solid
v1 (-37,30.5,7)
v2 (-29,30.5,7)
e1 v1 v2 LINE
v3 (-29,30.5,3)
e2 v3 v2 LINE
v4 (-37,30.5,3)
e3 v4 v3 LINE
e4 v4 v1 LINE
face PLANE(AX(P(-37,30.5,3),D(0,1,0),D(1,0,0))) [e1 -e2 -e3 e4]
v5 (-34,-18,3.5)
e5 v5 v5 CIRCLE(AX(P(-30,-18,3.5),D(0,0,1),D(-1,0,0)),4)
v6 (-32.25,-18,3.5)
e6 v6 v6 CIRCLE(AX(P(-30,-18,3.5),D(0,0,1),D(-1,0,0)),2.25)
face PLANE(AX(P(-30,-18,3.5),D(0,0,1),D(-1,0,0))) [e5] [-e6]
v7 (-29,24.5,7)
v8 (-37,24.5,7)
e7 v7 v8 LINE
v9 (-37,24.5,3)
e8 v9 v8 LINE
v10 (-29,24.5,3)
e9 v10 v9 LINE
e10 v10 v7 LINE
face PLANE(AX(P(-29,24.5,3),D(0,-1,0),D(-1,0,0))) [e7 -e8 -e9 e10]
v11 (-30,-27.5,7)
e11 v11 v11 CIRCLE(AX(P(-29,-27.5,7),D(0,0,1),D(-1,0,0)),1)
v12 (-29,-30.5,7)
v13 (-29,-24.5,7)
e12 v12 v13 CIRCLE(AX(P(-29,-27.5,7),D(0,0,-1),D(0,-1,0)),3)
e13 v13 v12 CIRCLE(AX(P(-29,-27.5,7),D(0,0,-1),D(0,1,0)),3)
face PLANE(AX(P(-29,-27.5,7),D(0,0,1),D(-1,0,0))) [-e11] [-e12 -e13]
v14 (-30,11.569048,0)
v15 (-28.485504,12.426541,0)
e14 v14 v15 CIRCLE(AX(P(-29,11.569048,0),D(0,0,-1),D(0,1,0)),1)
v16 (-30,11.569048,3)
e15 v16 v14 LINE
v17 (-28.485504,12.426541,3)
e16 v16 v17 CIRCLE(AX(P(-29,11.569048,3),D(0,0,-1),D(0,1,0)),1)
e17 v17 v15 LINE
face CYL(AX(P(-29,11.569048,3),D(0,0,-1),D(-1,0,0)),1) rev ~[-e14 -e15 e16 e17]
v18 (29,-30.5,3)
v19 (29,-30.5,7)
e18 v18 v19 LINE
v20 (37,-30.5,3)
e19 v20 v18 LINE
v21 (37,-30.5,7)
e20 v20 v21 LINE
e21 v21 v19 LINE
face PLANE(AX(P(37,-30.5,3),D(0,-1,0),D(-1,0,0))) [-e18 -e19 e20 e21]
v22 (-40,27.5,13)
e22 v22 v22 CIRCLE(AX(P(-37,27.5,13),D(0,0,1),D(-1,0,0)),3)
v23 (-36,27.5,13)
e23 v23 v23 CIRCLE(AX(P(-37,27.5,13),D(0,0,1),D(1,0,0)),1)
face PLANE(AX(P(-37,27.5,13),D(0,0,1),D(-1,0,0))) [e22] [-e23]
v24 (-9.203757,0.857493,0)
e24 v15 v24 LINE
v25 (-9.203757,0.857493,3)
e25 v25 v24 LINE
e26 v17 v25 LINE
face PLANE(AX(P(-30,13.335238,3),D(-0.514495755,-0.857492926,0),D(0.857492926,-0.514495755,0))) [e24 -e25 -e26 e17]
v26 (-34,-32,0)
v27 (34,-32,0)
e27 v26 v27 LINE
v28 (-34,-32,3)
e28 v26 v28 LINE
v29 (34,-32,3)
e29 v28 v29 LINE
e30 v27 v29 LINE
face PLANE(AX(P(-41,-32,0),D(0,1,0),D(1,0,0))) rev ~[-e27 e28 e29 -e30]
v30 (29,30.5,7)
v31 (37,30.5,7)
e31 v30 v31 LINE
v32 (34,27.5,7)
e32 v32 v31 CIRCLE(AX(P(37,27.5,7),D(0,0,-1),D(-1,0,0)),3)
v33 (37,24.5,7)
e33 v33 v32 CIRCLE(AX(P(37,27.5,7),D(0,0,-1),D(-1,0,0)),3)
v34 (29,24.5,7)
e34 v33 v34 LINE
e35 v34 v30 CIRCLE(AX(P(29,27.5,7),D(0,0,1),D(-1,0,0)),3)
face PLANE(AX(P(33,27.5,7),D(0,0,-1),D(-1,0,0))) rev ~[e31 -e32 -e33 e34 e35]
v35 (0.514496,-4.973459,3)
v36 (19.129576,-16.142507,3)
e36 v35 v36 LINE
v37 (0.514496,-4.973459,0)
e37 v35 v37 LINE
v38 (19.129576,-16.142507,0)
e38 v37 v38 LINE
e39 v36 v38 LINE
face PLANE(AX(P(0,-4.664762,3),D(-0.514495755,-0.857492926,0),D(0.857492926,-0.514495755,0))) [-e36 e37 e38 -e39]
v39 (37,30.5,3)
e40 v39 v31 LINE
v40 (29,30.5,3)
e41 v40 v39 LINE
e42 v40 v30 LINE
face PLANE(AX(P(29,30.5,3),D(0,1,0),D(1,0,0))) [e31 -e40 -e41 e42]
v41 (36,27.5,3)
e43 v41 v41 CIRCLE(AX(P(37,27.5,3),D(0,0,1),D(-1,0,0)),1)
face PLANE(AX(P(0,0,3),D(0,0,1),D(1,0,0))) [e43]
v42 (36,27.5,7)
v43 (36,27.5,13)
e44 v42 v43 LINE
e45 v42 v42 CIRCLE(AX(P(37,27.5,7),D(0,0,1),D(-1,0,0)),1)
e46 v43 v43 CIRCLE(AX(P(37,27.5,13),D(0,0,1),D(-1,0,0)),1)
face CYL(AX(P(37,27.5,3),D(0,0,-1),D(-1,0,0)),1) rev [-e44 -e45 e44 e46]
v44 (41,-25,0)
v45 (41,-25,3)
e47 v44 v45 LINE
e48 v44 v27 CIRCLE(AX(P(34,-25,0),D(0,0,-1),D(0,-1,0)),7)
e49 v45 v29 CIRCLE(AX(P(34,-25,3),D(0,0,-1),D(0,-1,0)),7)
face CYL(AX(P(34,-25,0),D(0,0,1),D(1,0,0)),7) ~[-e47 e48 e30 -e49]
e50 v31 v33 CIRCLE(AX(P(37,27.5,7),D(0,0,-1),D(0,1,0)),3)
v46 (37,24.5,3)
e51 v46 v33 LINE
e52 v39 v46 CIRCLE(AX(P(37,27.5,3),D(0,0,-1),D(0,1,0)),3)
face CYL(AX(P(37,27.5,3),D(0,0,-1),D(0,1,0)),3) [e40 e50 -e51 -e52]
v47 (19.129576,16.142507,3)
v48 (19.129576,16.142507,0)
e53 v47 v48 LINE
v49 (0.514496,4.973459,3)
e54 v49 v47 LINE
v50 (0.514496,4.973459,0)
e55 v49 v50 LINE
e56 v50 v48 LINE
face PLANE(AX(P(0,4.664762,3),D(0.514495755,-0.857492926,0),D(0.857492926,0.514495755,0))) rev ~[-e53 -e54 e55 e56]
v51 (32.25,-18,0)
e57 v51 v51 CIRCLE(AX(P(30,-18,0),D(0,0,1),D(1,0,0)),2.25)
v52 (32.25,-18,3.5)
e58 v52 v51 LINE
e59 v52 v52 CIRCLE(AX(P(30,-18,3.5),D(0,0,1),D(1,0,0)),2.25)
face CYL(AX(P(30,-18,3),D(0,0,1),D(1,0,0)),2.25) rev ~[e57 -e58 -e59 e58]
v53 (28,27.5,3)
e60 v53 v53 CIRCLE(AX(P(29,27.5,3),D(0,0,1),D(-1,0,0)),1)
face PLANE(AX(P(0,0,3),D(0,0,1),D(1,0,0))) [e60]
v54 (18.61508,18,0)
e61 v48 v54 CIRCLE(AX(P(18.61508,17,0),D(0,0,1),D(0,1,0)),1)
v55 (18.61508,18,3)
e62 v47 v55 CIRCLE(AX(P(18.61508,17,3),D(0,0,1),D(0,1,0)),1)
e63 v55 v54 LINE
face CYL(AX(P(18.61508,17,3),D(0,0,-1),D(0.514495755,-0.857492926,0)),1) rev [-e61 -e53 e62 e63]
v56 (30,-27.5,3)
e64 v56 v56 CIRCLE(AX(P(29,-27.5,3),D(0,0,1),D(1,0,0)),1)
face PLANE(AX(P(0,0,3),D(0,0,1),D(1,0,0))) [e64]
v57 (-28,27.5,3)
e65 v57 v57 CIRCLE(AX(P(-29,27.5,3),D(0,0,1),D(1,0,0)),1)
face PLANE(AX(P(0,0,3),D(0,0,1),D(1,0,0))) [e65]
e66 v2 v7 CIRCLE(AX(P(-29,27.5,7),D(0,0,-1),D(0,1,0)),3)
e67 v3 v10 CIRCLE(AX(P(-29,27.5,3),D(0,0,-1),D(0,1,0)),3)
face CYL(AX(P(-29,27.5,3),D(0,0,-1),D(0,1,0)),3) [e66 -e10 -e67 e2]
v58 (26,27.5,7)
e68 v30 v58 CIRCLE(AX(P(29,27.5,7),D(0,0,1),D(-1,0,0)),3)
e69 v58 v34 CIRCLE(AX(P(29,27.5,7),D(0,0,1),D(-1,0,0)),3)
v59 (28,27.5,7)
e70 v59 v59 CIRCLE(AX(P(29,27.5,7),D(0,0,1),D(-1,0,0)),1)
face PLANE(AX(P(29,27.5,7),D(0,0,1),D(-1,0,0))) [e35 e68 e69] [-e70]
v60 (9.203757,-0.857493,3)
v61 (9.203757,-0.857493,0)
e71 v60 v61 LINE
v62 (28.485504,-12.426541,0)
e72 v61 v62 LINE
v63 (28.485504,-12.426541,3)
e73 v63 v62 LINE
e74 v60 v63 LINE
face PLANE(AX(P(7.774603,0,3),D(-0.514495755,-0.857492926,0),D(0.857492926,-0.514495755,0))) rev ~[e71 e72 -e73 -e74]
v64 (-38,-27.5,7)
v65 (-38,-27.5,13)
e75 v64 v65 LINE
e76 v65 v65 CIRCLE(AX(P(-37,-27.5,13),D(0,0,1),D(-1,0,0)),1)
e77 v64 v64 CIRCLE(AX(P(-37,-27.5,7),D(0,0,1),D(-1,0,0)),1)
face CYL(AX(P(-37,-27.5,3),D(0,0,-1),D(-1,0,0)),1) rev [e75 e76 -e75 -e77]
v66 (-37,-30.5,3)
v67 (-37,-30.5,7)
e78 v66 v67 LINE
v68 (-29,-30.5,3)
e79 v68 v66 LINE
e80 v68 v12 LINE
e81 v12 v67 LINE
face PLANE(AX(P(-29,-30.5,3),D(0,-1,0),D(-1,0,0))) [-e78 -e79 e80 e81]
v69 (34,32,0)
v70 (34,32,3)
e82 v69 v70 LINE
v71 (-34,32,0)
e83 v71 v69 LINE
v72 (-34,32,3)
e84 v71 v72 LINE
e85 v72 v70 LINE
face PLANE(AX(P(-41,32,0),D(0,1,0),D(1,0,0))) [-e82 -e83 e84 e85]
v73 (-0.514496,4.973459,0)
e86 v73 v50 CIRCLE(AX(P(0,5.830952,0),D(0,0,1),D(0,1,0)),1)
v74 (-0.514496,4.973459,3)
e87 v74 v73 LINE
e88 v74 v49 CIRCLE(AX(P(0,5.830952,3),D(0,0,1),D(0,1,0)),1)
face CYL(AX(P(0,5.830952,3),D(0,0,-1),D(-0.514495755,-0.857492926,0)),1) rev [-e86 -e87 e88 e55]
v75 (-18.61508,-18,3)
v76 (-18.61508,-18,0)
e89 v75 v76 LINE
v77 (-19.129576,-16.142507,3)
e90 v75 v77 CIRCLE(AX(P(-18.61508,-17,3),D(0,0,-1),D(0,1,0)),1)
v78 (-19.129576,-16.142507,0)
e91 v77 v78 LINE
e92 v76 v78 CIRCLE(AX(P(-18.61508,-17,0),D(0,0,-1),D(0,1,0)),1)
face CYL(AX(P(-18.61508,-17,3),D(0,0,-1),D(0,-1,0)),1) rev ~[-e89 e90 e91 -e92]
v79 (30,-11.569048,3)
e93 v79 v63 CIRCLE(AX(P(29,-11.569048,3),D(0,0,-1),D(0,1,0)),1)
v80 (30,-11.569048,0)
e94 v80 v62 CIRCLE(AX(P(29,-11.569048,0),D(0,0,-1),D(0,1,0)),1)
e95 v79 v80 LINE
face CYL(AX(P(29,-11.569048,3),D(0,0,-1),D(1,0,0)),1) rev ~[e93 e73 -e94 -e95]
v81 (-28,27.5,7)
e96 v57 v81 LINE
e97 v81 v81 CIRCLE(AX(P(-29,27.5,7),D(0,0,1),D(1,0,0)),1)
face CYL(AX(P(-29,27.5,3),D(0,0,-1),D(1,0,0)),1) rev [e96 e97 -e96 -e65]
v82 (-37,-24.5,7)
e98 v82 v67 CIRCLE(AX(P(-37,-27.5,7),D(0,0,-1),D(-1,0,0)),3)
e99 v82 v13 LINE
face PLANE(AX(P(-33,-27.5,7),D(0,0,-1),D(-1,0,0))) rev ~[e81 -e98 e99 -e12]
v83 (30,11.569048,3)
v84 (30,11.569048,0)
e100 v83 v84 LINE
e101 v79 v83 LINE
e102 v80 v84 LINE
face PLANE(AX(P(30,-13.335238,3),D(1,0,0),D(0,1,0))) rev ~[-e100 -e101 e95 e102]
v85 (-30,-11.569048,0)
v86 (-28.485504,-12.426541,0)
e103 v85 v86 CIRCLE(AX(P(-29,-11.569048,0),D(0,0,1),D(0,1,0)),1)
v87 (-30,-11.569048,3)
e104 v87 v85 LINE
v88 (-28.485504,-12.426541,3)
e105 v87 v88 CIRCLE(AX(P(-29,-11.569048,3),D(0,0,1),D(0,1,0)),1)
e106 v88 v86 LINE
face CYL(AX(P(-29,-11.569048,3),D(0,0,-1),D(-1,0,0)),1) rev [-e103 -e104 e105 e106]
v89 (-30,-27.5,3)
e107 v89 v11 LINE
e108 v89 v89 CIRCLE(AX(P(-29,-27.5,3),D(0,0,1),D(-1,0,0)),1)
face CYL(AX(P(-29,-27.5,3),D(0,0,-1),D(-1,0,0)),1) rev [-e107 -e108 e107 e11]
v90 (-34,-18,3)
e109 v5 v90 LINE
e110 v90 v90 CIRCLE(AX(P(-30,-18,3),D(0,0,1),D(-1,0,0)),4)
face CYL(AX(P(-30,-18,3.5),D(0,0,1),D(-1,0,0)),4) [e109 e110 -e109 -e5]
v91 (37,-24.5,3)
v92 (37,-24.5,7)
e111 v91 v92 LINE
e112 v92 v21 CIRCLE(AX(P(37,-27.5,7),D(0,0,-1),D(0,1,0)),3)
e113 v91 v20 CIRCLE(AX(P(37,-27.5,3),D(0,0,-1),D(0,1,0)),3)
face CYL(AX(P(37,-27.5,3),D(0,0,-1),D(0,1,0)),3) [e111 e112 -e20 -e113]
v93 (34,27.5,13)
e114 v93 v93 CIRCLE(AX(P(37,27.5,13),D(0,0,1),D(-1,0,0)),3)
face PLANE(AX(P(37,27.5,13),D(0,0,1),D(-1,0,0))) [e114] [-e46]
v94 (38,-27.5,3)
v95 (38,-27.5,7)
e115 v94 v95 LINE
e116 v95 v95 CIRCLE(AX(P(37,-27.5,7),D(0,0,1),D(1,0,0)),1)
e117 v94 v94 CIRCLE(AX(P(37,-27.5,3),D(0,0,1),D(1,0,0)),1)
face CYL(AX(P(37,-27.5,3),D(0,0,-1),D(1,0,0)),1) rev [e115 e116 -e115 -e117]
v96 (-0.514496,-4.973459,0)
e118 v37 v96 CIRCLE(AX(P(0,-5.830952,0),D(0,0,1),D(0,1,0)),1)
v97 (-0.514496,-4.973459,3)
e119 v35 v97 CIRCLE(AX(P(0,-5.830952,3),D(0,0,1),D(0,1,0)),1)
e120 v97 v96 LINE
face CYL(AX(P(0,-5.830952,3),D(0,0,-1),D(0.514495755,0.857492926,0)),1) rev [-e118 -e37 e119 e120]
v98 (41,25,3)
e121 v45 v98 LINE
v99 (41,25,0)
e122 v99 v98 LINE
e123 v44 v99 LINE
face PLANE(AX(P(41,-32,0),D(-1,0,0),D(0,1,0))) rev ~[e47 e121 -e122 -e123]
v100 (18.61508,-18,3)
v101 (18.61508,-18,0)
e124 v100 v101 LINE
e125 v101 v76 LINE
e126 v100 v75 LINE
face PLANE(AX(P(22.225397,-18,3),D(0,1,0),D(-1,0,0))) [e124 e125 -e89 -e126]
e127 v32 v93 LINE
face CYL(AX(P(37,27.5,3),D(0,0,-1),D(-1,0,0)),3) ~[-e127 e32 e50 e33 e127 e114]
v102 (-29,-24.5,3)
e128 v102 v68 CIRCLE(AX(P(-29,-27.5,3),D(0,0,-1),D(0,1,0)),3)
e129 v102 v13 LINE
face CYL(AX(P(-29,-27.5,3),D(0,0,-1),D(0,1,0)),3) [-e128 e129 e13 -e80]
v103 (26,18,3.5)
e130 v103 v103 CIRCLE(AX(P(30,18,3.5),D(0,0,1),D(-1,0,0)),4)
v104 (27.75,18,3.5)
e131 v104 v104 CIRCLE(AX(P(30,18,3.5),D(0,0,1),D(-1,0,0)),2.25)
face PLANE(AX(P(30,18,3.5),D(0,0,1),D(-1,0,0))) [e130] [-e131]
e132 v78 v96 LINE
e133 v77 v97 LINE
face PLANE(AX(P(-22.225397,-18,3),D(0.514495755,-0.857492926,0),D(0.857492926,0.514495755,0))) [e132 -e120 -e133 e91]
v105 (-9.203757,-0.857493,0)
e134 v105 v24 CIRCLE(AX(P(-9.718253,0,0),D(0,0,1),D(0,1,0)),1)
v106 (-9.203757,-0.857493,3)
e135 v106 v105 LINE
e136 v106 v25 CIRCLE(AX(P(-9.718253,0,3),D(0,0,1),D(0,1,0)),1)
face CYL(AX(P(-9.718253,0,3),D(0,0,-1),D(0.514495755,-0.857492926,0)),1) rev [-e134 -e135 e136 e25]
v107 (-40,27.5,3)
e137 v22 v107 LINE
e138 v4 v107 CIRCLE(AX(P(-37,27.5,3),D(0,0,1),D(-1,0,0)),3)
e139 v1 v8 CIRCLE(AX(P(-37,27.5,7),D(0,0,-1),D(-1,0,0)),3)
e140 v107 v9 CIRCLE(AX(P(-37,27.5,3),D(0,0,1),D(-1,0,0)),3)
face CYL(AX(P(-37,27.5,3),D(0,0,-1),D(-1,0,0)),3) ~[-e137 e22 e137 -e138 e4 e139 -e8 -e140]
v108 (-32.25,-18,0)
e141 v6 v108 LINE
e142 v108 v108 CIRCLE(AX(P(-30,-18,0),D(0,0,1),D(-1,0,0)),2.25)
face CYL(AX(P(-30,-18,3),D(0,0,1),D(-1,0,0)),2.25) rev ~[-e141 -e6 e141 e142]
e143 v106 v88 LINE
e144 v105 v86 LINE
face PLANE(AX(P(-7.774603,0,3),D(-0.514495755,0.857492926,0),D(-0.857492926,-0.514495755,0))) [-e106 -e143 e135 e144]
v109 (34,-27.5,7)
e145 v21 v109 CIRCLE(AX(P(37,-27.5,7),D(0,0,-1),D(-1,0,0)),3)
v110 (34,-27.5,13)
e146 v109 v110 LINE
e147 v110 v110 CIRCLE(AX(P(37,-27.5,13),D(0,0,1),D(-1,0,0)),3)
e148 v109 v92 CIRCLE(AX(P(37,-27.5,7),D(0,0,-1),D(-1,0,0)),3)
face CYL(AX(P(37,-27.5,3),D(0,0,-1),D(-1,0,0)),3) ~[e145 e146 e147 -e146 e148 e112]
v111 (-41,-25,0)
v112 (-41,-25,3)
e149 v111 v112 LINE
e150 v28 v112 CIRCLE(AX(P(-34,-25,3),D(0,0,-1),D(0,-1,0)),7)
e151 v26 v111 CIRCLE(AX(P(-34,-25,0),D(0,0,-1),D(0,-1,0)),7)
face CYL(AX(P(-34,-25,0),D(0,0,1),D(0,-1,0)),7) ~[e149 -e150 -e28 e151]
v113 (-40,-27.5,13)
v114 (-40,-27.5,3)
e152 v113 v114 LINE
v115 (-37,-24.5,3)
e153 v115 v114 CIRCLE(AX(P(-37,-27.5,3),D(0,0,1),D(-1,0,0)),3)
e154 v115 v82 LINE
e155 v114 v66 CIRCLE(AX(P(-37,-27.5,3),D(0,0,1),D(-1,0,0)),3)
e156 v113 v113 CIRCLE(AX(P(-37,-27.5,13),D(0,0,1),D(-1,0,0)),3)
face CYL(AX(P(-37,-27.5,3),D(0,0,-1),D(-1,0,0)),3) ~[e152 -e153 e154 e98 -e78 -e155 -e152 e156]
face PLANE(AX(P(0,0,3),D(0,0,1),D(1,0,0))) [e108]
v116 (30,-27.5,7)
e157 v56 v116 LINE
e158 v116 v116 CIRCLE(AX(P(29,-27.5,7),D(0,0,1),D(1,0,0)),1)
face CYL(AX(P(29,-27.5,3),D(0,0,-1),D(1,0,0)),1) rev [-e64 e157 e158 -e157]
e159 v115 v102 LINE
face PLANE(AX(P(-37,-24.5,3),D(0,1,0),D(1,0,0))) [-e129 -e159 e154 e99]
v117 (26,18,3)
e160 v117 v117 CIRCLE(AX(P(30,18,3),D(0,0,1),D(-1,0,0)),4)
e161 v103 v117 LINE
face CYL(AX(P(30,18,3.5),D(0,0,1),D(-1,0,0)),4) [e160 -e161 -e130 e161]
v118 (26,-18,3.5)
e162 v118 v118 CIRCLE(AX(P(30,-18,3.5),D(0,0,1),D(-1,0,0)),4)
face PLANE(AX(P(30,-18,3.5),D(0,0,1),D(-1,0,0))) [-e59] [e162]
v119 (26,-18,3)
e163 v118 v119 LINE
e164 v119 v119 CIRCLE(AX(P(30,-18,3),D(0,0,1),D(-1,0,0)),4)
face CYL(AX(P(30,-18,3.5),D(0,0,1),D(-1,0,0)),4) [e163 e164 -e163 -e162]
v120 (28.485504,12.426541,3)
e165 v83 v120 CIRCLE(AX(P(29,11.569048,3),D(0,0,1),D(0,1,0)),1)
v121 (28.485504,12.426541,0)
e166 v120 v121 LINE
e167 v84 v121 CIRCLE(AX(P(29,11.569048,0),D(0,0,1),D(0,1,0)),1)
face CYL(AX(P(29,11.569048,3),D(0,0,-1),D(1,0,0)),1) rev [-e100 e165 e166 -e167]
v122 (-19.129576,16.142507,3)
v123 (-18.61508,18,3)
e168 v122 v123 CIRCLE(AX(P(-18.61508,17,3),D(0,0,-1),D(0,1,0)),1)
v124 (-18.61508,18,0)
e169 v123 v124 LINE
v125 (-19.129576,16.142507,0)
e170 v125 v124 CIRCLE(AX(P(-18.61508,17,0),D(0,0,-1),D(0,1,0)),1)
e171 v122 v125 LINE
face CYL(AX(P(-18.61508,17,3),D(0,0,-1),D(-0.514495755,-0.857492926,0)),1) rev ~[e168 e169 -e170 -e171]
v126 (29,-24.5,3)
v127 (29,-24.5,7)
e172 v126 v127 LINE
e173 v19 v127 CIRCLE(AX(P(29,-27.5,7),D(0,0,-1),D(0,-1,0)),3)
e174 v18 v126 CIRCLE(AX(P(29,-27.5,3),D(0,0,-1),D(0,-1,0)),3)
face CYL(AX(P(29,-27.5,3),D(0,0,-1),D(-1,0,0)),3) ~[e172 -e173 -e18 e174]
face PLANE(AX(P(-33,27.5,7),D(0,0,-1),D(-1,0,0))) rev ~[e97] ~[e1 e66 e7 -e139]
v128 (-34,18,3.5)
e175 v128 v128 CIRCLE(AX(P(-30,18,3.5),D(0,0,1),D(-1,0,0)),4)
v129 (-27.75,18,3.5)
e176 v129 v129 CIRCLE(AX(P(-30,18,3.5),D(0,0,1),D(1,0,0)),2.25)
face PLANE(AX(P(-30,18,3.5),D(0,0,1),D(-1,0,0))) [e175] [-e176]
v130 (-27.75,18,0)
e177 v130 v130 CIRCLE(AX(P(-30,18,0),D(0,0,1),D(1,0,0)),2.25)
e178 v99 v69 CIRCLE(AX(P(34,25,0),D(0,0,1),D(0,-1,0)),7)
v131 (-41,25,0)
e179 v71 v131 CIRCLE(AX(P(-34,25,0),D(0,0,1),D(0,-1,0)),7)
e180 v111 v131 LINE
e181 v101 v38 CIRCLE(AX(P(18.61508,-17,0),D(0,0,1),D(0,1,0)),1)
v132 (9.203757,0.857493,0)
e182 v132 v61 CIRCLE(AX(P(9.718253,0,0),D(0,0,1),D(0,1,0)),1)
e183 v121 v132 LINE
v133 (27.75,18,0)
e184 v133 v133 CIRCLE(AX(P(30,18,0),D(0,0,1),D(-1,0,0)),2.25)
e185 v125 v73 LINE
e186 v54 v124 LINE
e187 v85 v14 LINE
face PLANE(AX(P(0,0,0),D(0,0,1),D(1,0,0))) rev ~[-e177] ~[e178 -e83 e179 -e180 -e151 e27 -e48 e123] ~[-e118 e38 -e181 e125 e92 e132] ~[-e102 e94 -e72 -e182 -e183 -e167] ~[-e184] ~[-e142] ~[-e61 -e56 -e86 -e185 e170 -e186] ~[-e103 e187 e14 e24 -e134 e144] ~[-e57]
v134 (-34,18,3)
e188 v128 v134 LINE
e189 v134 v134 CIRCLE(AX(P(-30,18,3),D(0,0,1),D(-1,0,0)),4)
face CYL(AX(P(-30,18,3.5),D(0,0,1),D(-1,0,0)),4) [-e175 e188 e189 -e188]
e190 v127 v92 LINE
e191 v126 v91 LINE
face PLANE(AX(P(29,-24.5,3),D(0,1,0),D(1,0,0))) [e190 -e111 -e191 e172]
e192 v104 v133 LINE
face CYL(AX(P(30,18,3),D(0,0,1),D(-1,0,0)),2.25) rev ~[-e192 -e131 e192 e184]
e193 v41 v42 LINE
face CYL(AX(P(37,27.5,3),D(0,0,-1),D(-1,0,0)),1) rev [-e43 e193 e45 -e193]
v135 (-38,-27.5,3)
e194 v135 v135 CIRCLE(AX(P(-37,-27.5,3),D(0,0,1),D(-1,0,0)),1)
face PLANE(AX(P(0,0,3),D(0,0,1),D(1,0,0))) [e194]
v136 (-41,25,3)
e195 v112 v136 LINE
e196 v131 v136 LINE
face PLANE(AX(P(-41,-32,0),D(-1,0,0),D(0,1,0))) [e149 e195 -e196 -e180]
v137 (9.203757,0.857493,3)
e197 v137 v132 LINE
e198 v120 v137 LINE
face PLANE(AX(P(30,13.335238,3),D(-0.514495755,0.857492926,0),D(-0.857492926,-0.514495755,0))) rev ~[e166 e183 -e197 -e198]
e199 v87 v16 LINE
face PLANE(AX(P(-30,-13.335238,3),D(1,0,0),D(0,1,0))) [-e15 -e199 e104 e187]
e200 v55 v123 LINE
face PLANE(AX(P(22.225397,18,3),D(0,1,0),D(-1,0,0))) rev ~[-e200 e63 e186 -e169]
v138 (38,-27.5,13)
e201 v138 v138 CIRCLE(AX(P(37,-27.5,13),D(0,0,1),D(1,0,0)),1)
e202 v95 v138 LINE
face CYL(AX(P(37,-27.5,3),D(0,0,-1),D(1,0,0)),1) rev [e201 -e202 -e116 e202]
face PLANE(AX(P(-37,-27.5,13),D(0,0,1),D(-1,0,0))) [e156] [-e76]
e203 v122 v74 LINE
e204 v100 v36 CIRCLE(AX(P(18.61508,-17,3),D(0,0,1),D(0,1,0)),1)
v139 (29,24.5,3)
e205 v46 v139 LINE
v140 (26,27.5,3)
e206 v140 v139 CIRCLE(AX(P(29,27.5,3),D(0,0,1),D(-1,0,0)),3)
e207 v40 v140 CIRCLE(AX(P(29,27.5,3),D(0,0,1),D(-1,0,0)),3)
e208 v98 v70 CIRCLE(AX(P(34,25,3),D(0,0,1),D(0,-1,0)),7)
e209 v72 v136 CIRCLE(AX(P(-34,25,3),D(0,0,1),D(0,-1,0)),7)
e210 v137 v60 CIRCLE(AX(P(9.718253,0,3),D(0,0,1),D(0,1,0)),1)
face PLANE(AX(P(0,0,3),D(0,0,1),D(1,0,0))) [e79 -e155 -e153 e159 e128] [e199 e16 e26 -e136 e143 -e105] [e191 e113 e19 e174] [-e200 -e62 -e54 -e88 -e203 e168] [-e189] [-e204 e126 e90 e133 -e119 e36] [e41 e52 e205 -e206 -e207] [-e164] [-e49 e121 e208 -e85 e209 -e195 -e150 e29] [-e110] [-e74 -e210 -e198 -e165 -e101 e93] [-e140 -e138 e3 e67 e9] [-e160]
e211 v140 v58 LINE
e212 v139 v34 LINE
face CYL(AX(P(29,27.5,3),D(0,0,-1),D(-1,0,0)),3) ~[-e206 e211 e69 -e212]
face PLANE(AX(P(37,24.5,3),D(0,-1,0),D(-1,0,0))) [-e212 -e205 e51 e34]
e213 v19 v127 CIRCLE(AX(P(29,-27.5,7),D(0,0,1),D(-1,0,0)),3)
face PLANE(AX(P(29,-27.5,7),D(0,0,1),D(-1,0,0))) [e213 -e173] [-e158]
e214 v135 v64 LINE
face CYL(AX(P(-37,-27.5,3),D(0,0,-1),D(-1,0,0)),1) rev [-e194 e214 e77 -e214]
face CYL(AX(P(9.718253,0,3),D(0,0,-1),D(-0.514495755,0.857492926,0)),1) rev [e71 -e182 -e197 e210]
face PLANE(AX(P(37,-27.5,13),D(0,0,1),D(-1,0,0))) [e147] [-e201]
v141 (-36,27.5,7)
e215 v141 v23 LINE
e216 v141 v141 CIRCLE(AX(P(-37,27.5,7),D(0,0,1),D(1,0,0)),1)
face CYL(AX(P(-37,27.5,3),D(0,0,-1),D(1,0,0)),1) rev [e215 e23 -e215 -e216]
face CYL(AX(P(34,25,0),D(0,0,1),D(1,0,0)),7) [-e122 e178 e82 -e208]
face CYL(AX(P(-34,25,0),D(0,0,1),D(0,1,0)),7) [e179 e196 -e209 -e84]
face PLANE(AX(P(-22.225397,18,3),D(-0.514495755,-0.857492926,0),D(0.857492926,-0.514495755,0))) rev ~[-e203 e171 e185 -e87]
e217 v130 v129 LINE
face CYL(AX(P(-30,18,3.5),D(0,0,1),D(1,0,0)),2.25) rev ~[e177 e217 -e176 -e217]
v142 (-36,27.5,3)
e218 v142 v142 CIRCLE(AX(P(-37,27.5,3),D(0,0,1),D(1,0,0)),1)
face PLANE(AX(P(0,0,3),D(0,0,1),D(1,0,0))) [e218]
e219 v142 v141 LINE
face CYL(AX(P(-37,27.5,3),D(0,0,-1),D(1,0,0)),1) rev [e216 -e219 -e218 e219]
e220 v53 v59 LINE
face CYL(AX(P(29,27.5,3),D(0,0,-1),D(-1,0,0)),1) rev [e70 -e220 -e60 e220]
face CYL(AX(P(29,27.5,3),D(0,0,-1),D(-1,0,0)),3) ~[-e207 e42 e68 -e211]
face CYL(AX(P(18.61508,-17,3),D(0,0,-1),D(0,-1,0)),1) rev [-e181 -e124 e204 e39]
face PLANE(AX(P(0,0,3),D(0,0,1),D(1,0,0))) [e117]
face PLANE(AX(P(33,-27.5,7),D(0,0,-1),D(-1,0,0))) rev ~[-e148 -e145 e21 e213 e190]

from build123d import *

# Parameters (mm, degrees)
ESBO_O1_W                = 82
ESBO_O1_H                = 64
RESSALTO_EXTRUS_O1_DEPTH = 3
ESBO_O2_R                = 3
ESBO_O2_R_2              = 1
RESSALTO_EXTRUS_O2_DEPTH = 4
ESBO_O3_R                = 3
ESBO_O3_R_2              = 1
RESSALTO_EXTRUS_O3_DEPTH = 10
ESBO_O4_R                = 2.25
CORTE_EXTRUS_O1_DEPTH    = 53.962250707
RESSALTO_EXTRUS_O4_START = 0.5
ESBO_O5_R                = 4
ESBO_O5_R_2              = 2.25
RESSALTO_EXTRUS_O4_DEPTH = 0.5
FILETE1_R                = 7
CORTE_EXTRUS_O2_DEPTH    = 53.962250707
FILETE2_R                = 1
ESBO_O7_R                = 1
RESSALTO_EXTRUS_O5_DEPTH = 4


with BuildPart() as part:
    # Esboço1 → Ressalto-extrusão1 (new body)
    with BuildSketch(Plane.XY):
        Rectangle(ESBO_O1_W, ESBO_O1_H)
    extrude(amount=RESSALTO_EXTRUS_O1_DEPTH)

    # Esboço2 → Ressalto-extrusão2 (add)
    # profile 1 of 4: a face of its own
    with BuildSketch(Plane.XY.offset(3)):
        with Locations(Location((-29, 27.5, 0), (0, 0, 180))):
            Circle(ESBO_O2_R)
        with Locations((-29, 27.5)):
            Circle(ESBO_O2_R_2, mode=Mode.SUBTRACT)
    # profile 2 of 4: a face of its own
    with BuildSketch(Plane.XY.offset(3)):
        with Locations(Location((-29, -27.5, 0), (0, 0, 180))):
            Circle(ESBO_O2_R)
        with Locations(Location((-29, -27.5, 0), (0, 0, 180))):
            Circle(ESBO_O2_R_2, mode=Mode.SUBTRACT)
    # profile 3 of 4: a face of its own
    with BuildSketch(Plane.XY.offset(3)):
        with Locations(Location((29, -27.5, 0), (0, 0, 180))):
            Circle(ESBO_O2_R)
        with Locations((29, -27.5)):
            Circle(ESBO_O2_R_2, mode=Mode.SUBTRACT)
    # profile 4 of 4: a face of its own
    with BuildSketch(Plane.XY.offset(3)):
        with Locations(Location((29, 27.5, 0), (0, 0, 180))):
            Circle(ESBO_O2_R)
        with Locations(Location((29, 27.5, 0), (0, 0, 180))):
            Circle(ESBO_O2_R_2, mode=Mode.SUBTRACT)
    extrude(amount=RESSALTO_EXTRUS_O2_DEPTH)

    # Esboço3 → Ressalto-extrusão3 (add)
    # profile 1 of 4: a face of its own
    with BuildSketch(Plane.XY.offset(3)):
        with Locations(Location((-37, 27.5, 0), (0, 0, 180))):
            Circle(ESBO_O3_R)
        with Locations((-37, 27.5)):
            Circle(ESBO_O3_R_2, mode=Mode.SUBTRACT)
    # profile 2 of 4: a face of its own
    with BuildSketch(Plane.XY.offset(3)):
        with Locations(Location((37, 27.5, 0), (0, 0, 180))):
            Circle(ESBO_O3_R)
        with Locations(Location((37, 27.5, 0), (0, 0, 180))):
            Circle(ESBO_O3_R_2, mode=Mode.SUBTRACT)
    # profile 3 of 4: a face of its own
    with BuildSketch(Plane.XY.offset(3)):
        with Locations(Location((37, -27.5, 0), (0, 0, 180))):
            Circle(ESBO_O3_R)
        with Locations((37, -27.5)):
            Circle(ESBO_O3_R_2, mode=Mode.SUBTRACT)
    # profile 4 of 4: a face of its own
    with BuildSketch(Plane.XY.offset(3)):
        with Locations(Location((-37, -27.5, 0), (0, 0, 180))):
            Circle(ESBO_O3_R)
        with Locations(Location((-37, -27.5, 0), (0, 0, 180))):
            Circle(ESBO_O3_R_2, mode=Mode.SUBTRACT)
    extrude(amount=RESSALTO_EXTRUS_O3_DEPTH)

    # Esboço4 → Corte-extrusão1 (cut, through all)
    with BuildSketch(Plane.XY.offset(3)):
        with Locations((-30, 18)):
            Circle(ESBO_O4_R)
        with Locations(Location((30, 18, 0), (0, 0, 180))):
            Circle(ESBO_O4_R)
        with Locations((30, -18)):
            Circle(ESBO_O4_R)
        with Locations(Location((-30, -18, 0), (0, 0, 180))):
            Circle(ESBO_O4_R)
    extrude(amount=-CORTE_EXTRUS_O1_DEPTH, mode=Mode.SUBTRACT)

    # Esboço5 → Ressalto-extrusão4 (add)
    # profile 1 of 4: a face of its own
    with BuildSketch(Plane.XY.offset(3).offset(RESSALTO_EXTRUS_O4_START)):
        with Locations(Location((-30, 18, 0), (0, 0, 180))):
            Circle(ESBO_O5_R)
        with Locations((-30, 18)):
            Circle(ESBO_O5_R_2, mode=Mode.SUBTRACT)
    # profile 2 of 4: a face of its own
    with BuildSketch(Plane.XY.offset(3).offset(RESSALTO_EXTRUS_O4_START)):
        with Locations(Location((30, 18, 0), (0, 0, 180))):
            Circle(ESBO_O5_R)
        with Locations(Location((30, 18, 0), (0, 0, 180))):
            Circle(ESBO_O5_R_2, mode=Mode.SUBTRACT)
    # profile 3 of 4: a face of its own
    with BuildSketch(Plane.XY.offset(3).offset(RESSALTO_EXTRUS_O4_START)):
        with Locations(Location((-30, -18, 0), (0, 0, 180))):
            Circle(ESBO_O5_R)
        with Locations(Location((-30, -18, 0), (0, 0, 180))):
            Circle(ESBO_O5_R_2, mode=Mode.SUBTRACT)
    # profile 4 of 4: a face of its own
    with BuildSketch(Plane.XY.offset(3).offset(RESSALTO_EXTRUS_O4_START)):
        with Locations(Location((30, -18, 0), (0, 0, 180))):
            Circle(ESBO_O5_R)
        with Locations((30, -18)):
            Circle(ESBO_O5_R_2, mode=Mode.SUBTRACT)
    extrude(amount=-RESSALTO_EXTRUS_O4_DEPTH)

    # Filete1
    filete1_edges = [part.edges().sort_by_distance(p)[0] for p in [
        (41, -32, 1.5),
        (-41, -32, 1.5),
        (-41, 32, 1.5),
        (41, 32, 1.5),
    ]]
    fillet(filete1_edges, radius=FILETE1_R)

    # Esboço6 → Corte-extrusão2 (cut, through all)
    with BuildSketch(Plane.XY.offset(3)):
        Polygon((-30, 13.335238484), (-7.774602526, 0), (-30, -13.335238484), align=None)
        Polygon((-22.225397474, -18), (0, -4.664761516), (22.225397474, -18), align=None)
        Polygon((-22.225397474, 18), (0, 4.664761516), (22.225397474, 18), align=None)
        Polygon((30, -13.335238484), (30, 13.335238484), (7.774602526, 0), align=None)
    extrude(amount=-CORTE_EXTRUS_O2_DEPTH, mode=Mode.SUBTRACT)

    # Filete2
    filete2_edges = [part.edges().sort_by_distance(p)[0] for p in [
        (22.225397474, -18, 1.5),
        (-22.225397474, -18, 1.5),
        (0, -4.664761516, 1.5),
        (-30, -13.335238484, 1.5),
        (-30, 13.335238484, 1.5),
        (-7.774602526, 0, 1.5),
        (30, -13.335238484, 1.5),
        (7.774602526, 0, 1.5),
        (30, 13.335238484, 1.5),
        (-22.225397474, 18, 1.5),
        (22.225397474, 18, 1.5),
        (0, 4.664761516, 1.5),
    ]]
    fillet(filete2_edges, radius=FILETE2_R)

    # Esboço7 → Ressalto-extrusão5 (add)
    # profile 1 of 4: a face of its own
    with BuildSketch(Plane.XY.offset(3)):
        with BuildLine():
            Line((-37, 30.5), (-29, 30.5))
            ThreePointArc((-29, 30.5), (-26, 27.5), (-29, 24.5))
            Line((-29, 24.5), (-37, 24.5))
            ThreePointArc((-37, 24.5), (-40, 27.5), (-37, 30.5))
        make_face()
        with Locations((-37, 27.5)):
            Circle(ESBO_O7_R, mode=Mode.SUBTRACT)
        with Locations((-29, 27.5)):
            Circle(ESBO_O7_R, mode=Mode.SUBTRACT)
    # profile 2 of 4: a face of its own
    with BuildSketch(Plane.XY.offset(3)):
        with BuildLine():
            Line((37, 24.5), (29, 24.5))
            ThreePointArc((29, 24.5), (26, 27.5), (29, 30.5))
            Line((29, 30.5), (37, 30.5))
            ThreePointArc((37, 30.5), (40, 27.5), (37, 24.5))
        make_face()
        with Locations(Location((29, 27.5, 0), (0, 0, 180))):
            Circle(ESBO_O7_R, mode=Mode.SUBTRACT)
        with Locations(Location((37, 27.5, 0), (0, 0, 180))):
            Circle(ESBO_O7_R, mode=Mode.SUBTRACT)
    # profile 3 of 4: a face of its own
    with BuildSketch(Plane.XY.offset(3)):
        with BuildLine():
            Line((37, -30.5), (29, -30.5))
            ThreePointArc((29, -30.5), (26, -27.5), (29, -24.5))
            Line((29, -24.5), (37, -24.5))
            ThreePointArc((37, -24.5), (40, -27.5), (37, -30.5))
        make_face()
        with Locations((37, -27.5)):
            Circle(ESBO_O7_R, mode=Mode.SUBTRACT)
        with Locations((29, -27.5)):
            Circle(ESBO_O7_R, mode=Mode.SUBTRACT)
    # profile 4 of 4: a face of its own
    with BuildSketch(Plane.XY.offset(3)):
        with BuildLine():
            Line((-37, -24.5), (-29, -24.5))
            ThreePointArc((-29, -24.5), (-26, -27.5), (-29, -30.5))
            Line((-29, -30.5), (-37, -30.5))
            ThreePointArc((-37, -30.5), (-40, -27.5), (-37, -24.5))
        make_face()
        with Locations(Location((-29, -27.5, 0), (0, 0, 180))):
            Circle(ESBO_O7_R, mode=Mode.SUBTRACT)
        with Locations(Location((-37, -27.5, 0), (0, 0, 180))):
            Circle(ESBO_O7_R, mode=Mode.SUBTRACT)
    extrude(amount=RESSALTO_EXTRUS_O5_DEPTH)


solid = part.part
